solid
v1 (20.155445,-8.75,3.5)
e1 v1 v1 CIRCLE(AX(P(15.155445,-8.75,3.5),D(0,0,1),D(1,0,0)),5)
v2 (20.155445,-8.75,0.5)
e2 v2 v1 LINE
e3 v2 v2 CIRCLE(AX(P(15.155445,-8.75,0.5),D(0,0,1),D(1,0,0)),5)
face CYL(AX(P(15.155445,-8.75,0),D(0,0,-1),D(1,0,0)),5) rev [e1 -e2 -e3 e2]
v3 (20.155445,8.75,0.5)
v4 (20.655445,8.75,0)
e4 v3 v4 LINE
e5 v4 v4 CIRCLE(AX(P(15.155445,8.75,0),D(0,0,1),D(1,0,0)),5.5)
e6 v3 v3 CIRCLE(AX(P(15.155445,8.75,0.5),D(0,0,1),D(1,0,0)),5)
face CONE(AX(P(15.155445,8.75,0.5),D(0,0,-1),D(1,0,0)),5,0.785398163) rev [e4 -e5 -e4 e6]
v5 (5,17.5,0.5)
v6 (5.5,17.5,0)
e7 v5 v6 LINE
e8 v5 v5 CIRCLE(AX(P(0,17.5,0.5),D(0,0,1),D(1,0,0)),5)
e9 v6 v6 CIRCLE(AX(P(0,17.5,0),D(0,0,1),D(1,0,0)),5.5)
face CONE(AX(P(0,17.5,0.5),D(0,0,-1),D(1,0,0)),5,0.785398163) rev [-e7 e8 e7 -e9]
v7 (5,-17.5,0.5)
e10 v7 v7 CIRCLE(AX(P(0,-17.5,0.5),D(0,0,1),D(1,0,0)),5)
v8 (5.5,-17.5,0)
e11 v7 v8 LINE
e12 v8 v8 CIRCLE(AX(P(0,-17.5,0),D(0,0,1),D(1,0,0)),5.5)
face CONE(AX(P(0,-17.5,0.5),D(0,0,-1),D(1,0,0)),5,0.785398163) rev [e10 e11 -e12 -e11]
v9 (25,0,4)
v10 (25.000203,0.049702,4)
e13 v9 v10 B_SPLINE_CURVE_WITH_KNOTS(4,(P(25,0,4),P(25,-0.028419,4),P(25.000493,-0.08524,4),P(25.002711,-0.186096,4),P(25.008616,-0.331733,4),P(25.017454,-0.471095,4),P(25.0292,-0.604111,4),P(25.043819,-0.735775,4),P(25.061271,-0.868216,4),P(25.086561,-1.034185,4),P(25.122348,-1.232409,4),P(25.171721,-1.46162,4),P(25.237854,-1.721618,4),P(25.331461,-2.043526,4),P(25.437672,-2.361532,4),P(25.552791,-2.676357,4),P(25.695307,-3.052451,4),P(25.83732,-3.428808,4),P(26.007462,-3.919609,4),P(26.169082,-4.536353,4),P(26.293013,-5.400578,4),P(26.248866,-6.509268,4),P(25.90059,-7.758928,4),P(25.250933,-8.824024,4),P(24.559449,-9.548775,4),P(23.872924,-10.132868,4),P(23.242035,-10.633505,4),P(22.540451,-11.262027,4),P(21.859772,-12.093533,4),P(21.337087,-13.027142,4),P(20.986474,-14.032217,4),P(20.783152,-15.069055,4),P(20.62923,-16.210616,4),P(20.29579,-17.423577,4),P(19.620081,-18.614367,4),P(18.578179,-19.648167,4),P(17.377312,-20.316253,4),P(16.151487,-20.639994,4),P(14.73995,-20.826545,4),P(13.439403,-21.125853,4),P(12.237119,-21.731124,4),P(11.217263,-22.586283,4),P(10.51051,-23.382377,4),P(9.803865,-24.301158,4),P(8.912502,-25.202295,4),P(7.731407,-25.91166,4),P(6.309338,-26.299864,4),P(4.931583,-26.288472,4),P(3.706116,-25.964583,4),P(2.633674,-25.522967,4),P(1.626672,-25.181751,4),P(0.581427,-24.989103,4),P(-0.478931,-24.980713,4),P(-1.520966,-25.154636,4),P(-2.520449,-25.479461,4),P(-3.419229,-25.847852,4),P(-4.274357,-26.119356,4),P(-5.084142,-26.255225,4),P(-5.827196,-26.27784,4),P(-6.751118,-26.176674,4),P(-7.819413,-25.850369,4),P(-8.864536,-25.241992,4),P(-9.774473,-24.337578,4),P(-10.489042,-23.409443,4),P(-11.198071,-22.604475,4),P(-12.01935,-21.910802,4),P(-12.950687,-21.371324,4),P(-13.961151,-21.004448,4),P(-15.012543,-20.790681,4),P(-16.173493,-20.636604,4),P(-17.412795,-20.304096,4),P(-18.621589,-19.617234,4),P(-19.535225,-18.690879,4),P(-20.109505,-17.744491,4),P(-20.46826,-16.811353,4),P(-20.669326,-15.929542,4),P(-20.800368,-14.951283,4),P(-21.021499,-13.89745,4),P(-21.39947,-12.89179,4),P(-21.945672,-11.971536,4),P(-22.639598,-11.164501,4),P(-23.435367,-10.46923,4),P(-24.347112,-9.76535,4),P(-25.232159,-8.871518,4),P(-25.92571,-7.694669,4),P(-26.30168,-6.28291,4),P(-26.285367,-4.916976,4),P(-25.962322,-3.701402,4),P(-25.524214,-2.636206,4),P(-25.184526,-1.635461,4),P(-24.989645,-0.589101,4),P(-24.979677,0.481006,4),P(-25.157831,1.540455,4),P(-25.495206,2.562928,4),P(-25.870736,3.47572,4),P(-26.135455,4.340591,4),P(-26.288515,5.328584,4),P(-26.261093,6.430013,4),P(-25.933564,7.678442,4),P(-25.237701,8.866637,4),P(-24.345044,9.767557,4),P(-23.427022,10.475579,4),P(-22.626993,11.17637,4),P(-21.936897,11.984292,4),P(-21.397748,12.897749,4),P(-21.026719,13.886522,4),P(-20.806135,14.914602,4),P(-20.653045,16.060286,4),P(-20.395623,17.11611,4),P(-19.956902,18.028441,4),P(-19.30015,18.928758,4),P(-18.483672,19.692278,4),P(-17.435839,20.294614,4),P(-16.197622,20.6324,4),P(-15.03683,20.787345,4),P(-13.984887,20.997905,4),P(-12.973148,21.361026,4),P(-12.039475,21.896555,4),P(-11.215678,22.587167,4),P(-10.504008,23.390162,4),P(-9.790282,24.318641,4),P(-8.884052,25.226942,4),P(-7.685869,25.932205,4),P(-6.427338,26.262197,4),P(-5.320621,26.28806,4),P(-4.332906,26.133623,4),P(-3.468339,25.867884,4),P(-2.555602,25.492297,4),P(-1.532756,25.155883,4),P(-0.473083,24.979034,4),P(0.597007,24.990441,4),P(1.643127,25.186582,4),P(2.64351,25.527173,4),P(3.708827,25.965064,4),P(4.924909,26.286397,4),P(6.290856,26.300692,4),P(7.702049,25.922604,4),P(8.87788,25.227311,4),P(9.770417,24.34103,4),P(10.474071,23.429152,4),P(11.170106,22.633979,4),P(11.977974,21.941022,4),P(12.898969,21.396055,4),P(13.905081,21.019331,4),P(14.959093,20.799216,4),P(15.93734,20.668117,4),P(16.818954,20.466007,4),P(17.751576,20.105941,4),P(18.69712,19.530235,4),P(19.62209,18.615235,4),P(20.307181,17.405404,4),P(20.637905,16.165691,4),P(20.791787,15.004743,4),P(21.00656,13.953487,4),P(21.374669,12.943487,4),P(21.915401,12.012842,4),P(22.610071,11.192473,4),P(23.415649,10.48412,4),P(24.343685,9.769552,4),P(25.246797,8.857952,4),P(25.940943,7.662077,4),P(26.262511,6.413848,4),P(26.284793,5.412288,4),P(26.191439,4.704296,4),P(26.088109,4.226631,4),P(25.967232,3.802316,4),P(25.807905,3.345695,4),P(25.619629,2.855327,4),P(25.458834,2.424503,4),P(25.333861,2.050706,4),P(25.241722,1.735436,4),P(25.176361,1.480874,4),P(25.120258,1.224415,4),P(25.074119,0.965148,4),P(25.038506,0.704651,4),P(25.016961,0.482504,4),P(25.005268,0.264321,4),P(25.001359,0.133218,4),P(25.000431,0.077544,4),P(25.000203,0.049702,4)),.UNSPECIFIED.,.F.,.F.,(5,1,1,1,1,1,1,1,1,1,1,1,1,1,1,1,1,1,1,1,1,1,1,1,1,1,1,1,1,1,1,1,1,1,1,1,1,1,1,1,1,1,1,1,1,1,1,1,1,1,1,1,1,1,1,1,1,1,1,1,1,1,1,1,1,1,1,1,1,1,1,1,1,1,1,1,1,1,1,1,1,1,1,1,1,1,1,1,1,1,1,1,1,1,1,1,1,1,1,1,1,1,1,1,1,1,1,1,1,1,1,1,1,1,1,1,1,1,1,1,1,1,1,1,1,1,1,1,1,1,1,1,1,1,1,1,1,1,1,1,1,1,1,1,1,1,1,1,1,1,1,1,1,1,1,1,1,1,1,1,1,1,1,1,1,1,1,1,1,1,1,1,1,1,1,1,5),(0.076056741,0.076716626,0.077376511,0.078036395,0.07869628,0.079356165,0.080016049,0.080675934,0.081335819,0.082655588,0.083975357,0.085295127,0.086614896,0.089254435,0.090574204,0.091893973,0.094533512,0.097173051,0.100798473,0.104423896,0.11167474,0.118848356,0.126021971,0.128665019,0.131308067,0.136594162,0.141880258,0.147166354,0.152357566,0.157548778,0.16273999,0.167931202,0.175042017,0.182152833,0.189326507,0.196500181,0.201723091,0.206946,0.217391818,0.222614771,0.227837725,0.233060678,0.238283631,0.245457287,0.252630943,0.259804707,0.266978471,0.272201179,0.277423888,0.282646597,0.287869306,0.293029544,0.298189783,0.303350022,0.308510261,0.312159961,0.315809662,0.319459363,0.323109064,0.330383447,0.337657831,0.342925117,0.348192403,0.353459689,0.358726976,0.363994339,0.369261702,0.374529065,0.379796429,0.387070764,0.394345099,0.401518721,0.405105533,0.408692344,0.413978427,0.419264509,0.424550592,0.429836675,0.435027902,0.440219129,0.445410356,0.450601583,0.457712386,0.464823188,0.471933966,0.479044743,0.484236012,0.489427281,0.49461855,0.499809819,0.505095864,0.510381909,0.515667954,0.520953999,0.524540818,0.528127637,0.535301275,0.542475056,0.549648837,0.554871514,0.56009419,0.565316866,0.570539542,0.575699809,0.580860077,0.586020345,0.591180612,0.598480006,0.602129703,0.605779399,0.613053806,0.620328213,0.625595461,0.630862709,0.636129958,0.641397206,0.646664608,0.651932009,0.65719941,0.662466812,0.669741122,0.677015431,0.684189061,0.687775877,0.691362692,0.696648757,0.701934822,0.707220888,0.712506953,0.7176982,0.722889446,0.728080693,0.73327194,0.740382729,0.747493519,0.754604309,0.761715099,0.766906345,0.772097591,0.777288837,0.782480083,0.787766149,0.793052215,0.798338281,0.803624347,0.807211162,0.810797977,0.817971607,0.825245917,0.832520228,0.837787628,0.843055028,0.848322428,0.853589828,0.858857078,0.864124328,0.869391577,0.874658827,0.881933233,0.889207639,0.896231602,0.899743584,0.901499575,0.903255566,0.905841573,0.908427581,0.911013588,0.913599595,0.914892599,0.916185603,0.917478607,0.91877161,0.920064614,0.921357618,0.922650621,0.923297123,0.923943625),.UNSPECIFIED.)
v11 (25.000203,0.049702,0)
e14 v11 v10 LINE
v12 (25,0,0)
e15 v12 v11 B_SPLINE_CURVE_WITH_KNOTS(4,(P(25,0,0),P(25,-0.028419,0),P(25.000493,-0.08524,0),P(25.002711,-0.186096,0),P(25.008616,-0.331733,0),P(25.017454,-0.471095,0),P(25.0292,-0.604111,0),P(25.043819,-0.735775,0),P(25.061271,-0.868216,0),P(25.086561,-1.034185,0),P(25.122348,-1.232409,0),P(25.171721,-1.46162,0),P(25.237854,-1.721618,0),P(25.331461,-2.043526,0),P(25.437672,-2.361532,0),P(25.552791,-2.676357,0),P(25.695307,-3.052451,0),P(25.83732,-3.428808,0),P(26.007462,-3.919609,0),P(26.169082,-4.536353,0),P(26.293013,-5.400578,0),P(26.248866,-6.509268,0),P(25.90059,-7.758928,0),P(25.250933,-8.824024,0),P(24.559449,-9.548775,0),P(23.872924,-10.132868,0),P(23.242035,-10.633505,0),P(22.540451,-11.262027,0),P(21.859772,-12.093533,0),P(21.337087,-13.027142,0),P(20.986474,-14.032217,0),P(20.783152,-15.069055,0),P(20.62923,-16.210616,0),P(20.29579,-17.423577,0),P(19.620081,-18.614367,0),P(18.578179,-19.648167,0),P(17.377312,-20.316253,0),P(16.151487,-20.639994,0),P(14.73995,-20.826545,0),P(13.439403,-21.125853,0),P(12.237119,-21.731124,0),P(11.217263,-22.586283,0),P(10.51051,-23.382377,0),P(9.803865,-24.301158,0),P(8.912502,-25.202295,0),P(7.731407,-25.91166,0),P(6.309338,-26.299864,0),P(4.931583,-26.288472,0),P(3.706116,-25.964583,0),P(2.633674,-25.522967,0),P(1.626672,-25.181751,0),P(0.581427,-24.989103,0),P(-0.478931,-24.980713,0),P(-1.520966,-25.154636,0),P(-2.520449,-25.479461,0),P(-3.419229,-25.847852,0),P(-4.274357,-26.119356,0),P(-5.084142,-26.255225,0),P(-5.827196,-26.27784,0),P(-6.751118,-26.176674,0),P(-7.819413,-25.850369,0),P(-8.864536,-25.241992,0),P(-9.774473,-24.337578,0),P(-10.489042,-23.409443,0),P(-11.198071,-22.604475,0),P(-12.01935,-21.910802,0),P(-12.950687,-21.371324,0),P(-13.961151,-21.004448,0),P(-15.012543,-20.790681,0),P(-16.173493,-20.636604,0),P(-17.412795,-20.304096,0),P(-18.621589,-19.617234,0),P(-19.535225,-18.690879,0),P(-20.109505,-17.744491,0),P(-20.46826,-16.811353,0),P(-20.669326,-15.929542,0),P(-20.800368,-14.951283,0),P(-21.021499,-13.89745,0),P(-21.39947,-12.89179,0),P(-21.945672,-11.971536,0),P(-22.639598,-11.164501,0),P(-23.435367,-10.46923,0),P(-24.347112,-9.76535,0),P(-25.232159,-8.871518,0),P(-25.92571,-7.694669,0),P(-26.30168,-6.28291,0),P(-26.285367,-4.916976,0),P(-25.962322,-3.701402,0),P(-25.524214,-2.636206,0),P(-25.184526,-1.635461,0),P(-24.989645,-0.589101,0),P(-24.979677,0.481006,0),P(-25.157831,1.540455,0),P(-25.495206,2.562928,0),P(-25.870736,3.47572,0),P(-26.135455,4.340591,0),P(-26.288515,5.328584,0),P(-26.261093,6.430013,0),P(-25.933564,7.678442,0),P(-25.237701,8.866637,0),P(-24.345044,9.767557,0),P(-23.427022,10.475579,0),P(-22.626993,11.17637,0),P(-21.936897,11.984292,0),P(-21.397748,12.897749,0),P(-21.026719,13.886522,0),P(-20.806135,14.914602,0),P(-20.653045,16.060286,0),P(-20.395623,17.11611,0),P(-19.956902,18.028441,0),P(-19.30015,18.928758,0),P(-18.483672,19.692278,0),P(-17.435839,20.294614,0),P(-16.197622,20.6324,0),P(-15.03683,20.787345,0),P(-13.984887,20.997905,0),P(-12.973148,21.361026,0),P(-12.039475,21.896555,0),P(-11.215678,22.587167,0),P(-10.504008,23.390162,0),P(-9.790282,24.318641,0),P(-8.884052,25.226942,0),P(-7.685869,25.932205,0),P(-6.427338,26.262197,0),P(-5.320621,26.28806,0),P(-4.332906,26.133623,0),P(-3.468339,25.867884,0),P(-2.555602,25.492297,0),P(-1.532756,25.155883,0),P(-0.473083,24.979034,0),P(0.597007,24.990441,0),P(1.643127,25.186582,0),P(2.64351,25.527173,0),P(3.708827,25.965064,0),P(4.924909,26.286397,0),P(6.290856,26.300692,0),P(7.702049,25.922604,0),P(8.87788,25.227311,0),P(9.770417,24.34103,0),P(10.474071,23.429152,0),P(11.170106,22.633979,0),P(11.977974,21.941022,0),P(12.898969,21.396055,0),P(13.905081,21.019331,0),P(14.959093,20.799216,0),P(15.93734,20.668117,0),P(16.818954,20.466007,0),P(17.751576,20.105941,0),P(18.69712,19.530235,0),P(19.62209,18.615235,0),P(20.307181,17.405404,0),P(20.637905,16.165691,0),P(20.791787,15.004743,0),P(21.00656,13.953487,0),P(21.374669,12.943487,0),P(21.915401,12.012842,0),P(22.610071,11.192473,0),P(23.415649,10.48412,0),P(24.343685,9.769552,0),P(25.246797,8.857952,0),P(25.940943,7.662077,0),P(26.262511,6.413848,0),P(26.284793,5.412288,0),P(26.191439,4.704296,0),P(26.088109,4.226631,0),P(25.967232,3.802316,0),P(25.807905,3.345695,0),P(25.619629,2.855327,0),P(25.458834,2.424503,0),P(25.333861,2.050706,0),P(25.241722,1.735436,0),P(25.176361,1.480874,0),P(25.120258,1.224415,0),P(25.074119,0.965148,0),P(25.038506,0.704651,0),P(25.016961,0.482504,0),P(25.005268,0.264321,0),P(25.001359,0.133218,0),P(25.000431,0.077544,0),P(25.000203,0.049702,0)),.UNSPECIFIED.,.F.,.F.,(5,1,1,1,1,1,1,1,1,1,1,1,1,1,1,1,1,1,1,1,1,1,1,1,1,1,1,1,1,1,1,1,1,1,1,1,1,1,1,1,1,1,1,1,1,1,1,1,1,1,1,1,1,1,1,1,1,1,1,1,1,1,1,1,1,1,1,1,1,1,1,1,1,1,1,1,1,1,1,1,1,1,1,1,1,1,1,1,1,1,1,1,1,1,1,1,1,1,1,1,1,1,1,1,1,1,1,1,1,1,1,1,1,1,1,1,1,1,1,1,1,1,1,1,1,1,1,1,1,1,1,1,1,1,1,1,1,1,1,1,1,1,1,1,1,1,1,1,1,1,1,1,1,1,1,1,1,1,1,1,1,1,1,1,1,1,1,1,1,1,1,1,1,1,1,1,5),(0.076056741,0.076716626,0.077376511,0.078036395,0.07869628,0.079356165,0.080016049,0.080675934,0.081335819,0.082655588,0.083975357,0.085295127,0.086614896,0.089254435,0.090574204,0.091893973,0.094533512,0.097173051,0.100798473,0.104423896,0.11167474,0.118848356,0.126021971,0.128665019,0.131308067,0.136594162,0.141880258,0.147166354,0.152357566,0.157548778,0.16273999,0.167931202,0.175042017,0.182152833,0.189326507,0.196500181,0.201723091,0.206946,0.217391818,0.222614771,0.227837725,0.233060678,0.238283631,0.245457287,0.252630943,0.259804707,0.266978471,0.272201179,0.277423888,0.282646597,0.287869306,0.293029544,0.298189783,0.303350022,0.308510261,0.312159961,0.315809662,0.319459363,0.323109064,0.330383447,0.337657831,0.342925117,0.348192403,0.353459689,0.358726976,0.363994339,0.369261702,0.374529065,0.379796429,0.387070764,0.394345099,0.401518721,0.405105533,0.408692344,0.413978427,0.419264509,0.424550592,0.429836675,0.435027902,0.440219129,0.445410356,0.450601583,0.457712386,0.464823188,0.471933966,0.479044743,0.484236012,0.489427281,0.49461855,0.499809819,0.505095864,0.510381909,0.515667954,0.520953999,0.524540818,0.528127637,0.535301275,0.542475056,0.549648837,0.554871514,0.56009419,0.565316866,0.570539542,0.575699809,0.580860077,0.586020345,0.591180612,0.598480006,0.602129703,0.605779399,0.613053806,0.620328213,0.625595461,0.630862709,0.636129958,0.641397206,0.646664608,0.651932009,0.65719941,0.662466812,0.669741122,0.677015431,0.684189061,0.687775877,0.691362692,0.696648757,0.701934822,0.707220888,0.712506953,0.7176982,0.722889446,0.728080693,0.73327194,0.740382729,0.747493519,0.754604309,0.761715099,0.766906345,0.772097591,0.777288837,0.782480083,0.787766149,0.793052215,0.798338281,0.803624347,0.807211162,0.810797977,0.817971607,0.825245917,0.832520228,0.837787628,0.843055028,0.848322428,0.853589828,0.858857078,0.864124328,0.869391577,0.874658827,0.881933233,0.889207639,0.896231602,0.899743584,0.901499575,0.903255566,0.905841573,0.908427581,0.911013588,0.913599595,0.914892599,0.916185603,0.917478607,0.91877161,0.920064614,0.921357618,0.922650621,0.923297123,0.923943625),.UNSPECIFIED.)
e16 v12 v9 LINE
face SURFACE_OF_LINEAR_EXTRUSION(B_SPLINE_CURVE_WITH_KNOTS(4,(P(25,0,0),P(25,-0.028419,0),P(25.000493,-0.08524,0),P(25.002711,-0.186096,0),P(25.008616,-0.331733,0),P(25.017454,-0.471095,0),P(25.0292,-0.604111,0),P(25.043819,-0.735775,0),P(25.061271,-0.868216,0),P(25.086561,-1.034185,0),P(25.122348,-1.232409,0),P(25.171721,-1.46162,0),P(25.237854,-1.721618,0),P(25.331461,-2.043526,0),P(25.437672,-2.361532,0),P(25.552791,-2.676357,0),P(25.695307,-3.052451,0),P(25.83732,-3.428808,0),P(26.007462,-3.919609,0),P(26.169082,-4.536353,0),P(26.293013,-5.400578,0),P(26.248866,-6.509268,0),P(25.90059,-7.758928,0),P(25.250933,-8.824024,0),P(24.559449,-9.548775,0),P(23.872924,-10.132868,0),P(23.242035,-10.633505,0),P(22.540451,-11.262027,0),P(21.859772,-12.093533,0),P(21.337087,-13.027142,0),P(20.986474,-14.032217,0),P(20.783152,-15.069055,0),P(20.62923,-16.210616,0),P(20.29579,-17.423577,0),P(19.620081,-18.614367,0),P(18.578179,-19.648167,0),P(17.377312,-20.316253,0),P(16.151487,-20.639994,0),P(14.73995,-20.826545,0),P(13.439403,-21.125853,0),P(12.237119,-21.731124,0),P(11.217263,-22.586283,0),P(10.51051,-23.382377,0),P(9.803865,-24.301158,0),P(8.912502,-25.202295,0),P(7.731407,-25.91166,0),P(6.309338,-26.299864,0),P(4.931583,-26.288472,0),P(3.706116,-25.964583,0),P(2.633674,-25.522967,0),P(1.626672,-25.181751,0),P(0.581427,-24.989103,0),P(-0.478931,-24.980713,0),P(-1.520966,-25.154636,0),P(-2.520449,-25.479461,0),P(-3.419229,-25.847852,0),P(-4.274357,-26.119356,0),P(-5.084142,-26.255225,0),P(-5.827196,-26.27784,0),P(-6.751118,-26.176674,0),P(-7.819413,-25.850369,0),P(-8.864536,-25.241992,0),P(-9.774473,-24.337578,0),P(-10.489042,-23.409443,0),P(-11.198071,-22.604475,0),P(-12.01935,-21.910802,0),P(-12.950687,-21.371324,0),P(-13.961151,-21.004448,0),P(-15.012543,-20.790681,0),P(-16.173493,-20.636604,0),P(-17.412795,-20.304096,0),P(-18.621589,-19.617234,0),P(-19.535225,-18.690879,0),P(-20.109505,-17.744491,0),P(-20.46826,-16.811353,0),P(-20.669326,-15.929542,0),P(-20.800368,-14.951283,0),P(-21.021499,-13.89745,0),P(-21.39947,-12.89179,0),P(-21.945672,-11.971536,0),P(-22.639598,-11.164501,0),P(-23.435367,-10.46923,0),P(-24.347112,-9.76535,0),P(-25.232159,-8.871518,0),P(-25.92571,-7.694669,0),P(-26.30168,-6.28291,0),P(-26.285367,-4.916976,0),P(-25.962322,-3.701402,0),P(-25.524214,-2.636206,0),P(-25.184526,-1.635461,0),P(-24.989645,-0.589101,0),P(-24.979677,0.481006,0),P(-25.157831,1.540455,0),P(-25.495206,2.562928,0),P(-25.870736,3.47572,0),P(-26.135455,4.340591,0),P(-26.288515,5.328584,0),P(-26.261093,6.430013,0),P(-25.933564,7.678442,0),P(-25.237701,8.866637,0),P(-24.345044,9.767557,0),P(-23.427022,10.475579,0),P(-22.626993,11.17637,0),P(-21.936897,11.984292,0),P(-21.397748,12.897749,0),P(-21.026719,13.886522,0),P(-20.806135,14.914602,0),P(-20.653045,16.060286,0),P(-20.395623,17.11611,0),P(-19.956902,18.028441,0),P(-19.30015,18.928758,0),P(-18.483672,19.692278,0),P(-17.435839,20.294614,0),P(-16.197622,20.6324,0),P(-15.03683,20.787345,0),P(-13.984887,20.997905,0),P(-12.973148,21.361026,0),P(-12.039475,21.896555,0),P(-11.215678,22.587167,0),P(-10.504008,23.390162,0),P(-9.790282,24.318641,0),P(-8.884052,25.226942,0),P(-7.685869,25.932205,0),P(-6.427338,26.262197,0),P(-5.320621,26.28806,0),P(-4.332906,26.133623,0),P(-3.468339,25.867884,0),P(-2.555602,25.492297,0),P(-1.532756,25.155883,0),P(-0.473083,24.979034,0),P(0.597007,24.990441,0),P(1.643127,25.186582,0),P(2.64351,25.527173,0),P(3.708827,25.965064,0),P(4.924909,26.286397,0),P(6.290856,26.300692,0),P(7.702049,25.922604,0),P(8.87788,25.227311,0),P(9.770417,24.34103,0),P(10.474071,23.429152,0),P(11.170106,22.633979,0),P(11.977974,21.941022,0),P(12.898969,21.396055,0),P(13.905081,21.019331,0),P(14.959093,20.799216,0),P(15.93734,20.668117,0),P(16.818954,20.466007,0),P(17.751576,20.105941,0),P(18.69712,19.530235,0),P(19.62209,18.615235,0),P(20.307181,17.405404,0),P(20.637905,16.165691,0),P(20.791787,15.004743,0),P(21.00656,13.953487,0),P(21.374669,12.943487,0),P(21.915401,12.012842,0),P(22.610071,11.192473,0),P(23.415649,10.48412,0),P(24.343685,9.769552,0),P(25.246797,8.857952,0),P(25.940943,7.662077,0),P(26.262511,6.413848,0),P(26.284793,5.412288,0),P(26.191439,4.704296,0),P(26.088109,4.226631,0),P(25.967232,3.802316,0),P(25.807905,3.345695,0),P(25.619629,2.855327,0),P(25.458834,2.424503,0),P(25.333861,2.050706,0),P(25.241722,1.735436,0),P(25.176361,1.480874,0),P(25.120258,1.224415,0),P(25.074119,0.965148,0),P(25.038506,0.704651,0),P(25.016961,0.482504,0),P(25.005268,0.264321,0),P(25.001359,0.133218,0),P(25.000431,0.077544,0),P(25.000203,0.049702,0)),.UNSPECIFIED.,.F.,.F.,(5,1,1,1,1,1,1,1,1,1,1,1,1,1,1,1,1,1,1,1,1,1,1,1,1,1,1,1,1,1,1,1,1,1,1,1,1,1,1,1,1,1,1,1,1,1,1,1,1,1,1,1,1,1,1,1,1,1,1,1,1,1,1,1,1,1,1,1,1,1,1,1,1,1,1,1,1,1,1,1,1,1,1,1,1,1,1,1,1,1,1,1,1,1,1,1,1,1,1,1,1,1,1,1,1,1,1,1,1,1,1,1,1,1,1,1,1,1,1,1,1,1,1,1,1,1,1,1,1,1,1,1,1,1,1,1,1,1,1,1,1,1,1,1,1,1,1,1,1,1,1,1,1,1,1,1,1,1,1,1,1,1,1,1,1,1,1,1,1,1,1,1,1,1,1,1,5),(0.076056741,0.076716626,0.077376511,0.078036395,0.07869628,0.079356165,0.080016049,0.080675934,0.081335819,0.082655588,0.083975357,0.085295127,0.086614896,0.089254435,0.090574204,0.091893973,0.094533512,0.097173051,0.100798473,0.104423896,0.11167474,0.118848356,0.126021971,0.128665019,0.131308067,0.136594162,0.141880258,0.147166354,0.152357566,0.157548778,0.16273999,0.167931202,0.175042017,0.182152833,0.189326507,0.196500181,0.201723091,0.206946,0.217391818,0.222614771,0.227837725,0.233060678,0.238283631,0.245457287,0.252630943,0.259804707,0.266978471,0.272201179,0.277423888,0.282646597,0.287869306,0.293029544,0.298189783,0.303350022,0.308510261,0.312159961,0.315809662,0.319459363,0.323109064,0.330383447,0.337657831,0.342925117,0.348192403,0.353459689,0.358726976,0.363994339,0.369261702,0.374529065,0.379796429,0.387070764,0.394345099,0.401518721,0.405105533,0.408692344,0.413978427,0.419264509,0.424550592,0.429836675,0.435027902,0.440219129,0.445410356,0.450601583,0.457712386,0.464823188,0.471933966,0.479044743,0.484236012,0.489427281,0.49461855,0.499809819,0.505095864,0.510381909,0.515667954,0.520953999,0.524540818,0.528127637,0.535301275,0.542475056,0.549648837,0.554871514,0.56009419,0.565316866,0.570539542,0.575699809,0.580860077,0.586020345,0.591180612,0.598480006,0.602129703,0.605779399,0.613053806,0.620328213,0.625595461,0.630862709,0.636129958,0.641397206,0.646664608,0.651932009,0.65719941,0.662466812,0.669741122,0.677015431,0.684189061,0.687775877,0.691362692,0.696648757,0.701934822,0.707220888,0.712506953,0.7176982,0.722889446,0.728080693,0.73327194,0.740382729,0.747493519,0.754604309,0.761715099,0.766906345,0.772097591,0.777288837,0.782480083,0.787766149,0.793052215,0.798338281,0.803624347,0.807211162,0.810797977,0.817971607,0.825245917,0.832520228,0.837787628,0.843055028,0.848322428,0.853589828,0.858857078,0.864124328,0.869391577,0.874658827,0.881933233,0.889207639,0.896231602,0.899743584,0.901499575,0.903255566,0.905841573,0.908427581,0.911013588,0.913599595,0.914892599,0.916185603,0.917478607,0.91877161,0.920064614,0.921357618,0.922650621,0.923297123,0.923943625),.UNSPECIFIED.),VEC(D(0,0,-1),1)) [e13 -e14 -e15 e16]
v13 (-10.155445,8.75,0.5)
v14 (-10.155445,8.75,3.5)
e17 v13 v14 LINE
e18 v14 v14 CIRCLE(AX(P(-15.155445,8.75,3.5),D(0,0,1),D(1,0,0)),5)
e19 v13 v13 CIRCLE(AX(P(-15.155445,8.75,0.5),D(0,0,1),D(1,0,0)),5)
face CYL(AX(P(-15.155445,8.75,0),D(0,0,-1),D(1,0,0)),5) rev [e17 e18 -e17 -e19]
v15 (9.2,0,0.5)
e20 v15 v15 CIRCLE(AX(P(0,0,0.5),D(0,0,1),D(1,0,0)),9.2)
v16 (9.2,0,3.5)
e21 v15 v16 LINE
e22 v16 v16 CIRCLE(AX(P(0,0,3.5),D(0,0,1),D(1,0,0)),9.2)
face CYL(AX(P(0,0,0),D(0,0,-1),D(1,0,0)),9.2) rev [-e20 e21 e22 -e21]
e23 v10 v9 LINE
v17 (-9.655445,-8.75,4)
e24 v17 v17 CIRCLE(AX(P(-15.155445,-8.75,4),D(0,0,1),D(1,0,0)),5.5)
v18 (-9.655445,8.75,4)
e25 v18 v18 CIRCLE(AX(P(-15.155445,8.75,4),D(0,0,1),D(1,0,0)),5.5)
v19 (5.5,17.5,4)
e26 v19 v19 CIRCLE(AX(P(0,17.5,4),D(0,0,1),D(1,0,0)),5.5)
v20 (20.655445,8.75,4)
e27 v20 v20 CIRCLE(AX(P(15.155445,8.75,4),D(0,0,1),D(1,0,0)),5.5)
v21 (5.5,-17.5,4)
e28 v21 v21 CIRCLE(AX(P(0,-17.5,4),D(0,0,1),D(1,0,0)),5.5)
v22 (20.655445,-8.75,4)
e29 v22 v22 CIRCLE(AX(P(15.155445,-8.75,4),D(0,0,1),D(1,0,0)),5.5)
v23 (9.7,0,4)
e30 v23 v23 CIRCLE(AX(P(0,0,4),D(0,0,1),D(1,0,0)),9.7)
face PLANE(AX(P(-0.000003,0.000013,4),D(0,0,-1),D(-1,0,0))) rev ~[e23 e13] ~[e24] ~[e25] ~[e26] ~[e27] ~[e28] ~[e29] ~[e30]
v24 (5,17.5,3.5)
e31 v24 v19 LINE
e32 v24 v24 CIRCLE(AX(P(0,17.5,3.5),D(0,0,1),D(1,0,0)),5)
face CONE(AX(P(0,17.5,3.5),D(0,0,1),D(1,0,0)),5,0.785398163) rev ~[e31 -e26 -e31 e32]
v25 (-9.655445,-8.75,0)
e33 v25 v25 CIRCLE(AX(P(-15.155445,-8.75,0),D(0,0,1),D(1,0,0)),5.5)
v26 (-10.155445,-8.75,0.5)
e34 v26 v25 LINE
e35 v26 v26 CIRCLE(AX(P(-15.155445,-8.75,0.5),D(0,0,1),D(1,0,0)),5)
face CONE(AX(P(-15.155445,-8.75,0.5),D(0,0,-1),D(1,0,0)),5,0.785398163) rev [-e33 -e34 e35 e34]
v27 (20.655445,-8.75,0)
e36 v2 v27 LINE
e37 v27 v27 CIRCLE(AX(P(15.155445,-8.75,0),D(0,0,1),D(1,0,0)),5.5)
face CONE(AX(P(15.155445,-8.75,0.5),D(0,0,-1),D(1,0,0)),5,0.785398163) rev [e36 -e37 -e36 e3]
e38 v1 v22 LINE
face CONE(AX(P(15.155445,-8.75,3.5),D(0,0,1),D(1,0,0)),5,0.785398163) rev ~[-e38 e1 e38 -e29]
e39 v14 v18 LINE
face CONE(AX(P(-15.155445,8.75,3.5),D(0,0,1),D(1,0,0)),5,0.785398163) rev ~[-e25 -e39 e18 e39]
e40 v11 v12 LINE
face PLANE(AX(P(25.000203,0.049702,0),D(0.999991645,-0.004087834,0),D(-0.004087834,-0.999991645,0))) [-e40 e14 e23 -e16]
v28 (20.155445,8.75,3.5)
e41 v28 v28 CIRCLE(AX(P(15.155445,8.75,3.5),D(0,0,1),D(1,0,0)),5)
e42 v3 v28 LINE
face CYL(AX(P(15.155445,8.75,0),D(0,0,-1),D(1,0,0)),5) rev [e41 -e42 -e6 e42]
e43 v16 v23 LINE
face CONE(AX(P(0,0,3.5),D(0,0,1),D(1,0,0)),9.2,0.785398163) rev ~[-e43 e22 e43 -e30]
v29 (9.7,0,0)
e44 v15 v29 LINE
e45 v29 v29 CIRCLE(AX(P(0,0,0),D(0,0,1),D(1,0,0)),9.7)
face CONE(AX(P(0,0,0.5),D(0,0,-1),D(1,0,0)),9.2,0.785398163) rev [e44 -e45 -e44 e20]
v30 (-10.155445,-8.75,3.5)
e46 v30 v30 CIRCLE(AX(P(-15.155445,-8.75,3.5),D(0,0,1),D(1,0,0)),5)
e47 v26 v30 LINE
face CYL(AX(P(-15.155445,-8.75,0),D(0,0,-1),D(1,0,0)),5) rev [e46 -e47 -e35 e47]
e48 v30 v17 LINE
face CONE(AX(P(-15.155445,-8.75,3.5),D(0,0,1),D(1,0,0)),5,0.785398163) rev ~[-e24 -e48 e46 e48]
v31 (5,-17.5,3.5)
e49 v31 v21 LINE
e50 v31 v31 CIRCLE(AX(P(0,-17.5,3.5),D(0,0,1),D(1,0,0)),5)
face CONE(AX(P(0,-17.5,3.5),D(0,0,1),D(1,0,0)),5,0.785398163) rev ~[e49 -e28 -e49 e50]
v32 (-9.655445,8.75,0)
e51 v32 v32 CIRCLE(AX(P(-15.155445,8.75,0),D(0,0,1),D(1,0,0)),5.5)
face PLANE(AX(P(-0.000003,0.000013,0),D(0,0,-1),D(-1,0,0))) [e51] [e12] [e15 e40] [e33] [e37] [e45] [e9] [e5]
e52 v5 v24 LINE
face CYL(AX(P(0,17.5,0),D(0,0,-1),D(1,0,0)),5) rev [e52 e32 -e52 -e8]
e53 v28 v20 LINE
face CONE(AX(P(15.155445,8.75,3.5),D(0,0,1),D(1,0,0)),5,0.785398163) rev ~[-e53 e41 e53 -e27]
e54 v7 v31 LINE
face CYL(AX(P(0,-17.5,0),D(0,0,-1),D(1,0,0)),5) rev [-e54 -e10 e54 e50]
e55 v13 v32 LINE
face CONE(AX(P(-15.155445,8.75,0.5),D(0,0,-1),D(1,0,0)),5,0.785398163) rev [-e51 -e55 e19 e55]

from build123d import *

# Parameters (mm, degrees)
SKETCH3_R           = 9.2
SKETCH3_R_2         = 5
BOSS_EXTRUDE2_DEPTH = 4
CHAMFER1_SIZE       = 0.5


with BuildPart() as part:
    # Sketch3 → Boss-Extrude2 (new body)
    with BuildSketch(Plane.XY):
        with BuildLine():
            add(Edge.make_bspline(
                [(25, 0), (25, -0.028419379), (25.000492821, -0.085240091), (25.002710517, -0.186096381), (25.008616202, -0.331732724), (25.017454216, -0.471095426), (25.029199756, -0.604110594), (25.043819456, -0.735775062), (25.0612711, -0.868216065), (25.086561311, -1.034185241), (25.122348392, -1.232409452), (25.171720804, -1.461619521), (25.23785416, -1.72161835), (25.33146082, -2.043525868), (25.437671669, -2.361532194), (25.552791346, -2.676356937), (25.69530689, -3.052450734), (25.837320412, -3.428807717), (26.007461604, -3.919608843), (26.169082038, -4.536352918), (26.29301302, -5.400577617), (26.248865742, -6.509268079), (25.900590468, -7.758927573), (25.250933039, -8.824024045), (24.559448754, -9.548775191), (23.872924134, -10.132867754), (23.242034799, -10.633504856), (22.540451444, -11.262027255), (21.859772382, -12.093532725), (21.337087227, -13.027141562), (20.986474338, -14.032216693), (20.783152218, -15.069054613), (20.629229677, -16.210615672), (20.295790024, -17.423577203), (19.620081418, -18.614367157), (18.57817853, -19.648167397), (17.377311503, -20.316253266), (16.151486918, -20.639994045), (14.739949908, -20.826544524), (13.439402762, -21.1258531), (12.23711891, -21.731124361), (11.217263285, -22.586282659), (10.510510486, -23.382376891), (9.803864636, -24.301158332), (8.912502074, -25.202295013), (7.731407454, -25.911659846), (6.309337856, -26.299864083), (4.931582798, -26.288472232), (3.706115601, -25.964583322), (2.633674004, -25.522967435), (1.62667227, -25.181750578), (0.581426656, -24.989102643), (-0.478930933, -24.980713481), (-1.520966388, -25.154635937), (-2.520449471, -25.479461333), (-3.419229104, -25.84785235), (-4.274357012, -26.11935553), (-5.084141891, -26.255225085), (-5.827195666, -26.277840049), (-6.751118437, -26.176673588), (-7.819413481, -25.850368791), (-8.864535557, -25.241992085), (-9.774472842, -24.337578456), (-10.489042176, -23.409443312), (-11.198070814, -22.604475083), (-12.019349647, -21.910802096), (-12.950687048, -21.371323607), (-13.961150534, -21.004447957), (-15.012542859, -20.790681073), (-16.17349347, -20.636604415), (-17.412795128, -20.30409628), (-18.621589199, -19.617234196), (-19.535225069, -18.69087907), (-20.109505434, -17.744490957), (-20.468260184, -16.811352879), (-20.669325741, -15.929542243), (-20.800368009, -14.951283195), (-21.021499046, -13.897450049), (-21.399469544, -12.891789727), (-21.945671579, -11.971536034), (-22.639598338, -11.164500934), (-23.435367487, -10.469229858), (-24.347111984, -9.765350187), (-25.232158972, -8.871517572), (-25.925709908, -7.694669196), (-26.301679816, -6.282910402), (-26.285367064, -4.916976266), (-25.96232166, -3.701401982), (-25.524214021, -2.636206013), (-25.184526072, -1.63546138), (-24.98964456, -0.589100982), (-24.979676648, 0.481005828), (-25.157831343, 1.540454587), (-25.495205931, 2.562927815), (-25.870736407, 3.4757204), (-26.135455064, 4.34059116), (-26.288515222, 5.328583568), (-26.261093111, 6.43001327), (-25.933564455, 7.678441647), (-25.237701394, 8.866637346), (-24.34504384, 9.767557339), (-23.427022399, 10.47557852), (-22.62699323, 11.1763696), (-21.936896568, 11.984292454), (-21.397747575, 12.897748952), (-21.026718925, 13.886522177), (-20.806135146, 14.914602211), (-20.653045268, 16.060286336), (-20.395622874, 17.11611043), (-19.95690194, 18.028441349), (-19.300149626, 18.928757994), (-18.483671803, 19.692277913), (-17.435839429, 20.294614033), (-16.197622229, 20.632400397), (-15.036829757, 20.787344769), (-13.984887122, 20.997904882), (-12.973147938, 21.361026229), (-12.039474616, 21.896555136), (-11.215678135, 22.58716662), (-10.504008287, 23.390162439), (-9.790282182, 24.318640694), (-8.884052218, 25.226941722), (-7.685868846, 25.932204762), (-6.427337904, 26.262197332), (-5.32062142, 26.288060185), (-4.332905845, 26.133623194), (-3.468339345, 25.867884001), (-2.55560208, 25.492296977), (-1.532755887, 25.155882506), (-0.473083435, 24.979033961), (0.597006536, 24.990441303), (1.643127458, 25.186582226), (2.643510183, 25.527172752), (3.708827205, 25.965063812), (4.924909383, 26.286396603), (6.29085556, 26.300692327), (7.702048601, 25.922603812), (8.877880267, 25.227310889), (9.770417048, 24.341030317), (10.474070774, 23.429151565), (11.170105737, 22.633979321), (11.977973527, 21.941022037), (12.898969216, 21.396054985), (13.905080963, 21.019330701), (14.959093015, 20.79921578), (15.93734026, 20.668117182), (16.818953838, 20.466007301), (17.751576334, 20.105941467), (18.697120313, 19.53023506), (19.622089623, 18.615234931), (20.307180817, 17.405403853), (20.637904711, 16.165690953), (20.791787115, 15.004742729), (21.00656033, 13.953487), (21.374668771, 12.943487437), (21.915401419, 12.012841988), (22.610070929, 11.192473379), (23.415648604, 10.48411951), (24.343684699, 9.769551905), (25.246796647, 8.857951736), (25.940942688, 7.662077141), (26.262511444, 6.413848041), (26.28479299, 5.412288327), (26.191439435, 4.704296235), (26.088108997, 4.226630913), (25.967232391, 3.802316147), (25.80790495, 3.345695262), (25.619629464, 2.855327013), (25.458833672, 2.424502992), (25.333860765, 2.050706314), (25.241721849, 1.735435761), (25.176361339, 1.480873774), (25.120257899, 1.224415288), (25.074119122, 0.965148365), (25.038505918, 0.70465122), (25.016960864, 0.482504301), (25.005267885, 0.264321243), (25.00135895, 0.133217809), (25.000430803, 0.077544036), (25.000203175, 0.049701947)],
                knots=[0.076056741, 0.076056741, 0.076056741, 0.076056741, 0.076056741, 0.076716626, 0.077376511, 0.078036395, 0.07869628, 0.079356165, 0.080016049, 0.080675934, 0.081335819, 0.082655588, 0.083975357, 0.085295127, 0.086614896, 0.089254435, 0.090574204, 0.091893973, 0.094533512, 0.097173051, 0.100798473, 0.104423896, 0.11167474, 0.118848356, 0.126021971, 0.128665019, 0.131308067, 0.136594162, 0.141880258, 0.147166354, 0.152357566, 0.157548778, 0.16273999, 0.167931202, 0.175042017, 0.182152833, 0.189326507, 0.196500181, 0.201723091, 0.206946, 0.217391818, 0.222614771, 0.227837725, 0.233060678, 0.238283631, 0.245457287, 0.252630943, 0.259804707, 0.266978471, 0.272201179, 0.277423888, 0.282646597, 0.287869306, 0.293029544, 0.298189783, 0.303350022, 0.308510261, 0.312159961, 0.315809662, 0.319459363, 0.323109064, 0.330383447, 0.337657831, 0.342925117, 0.348192403, 0.353459689, 0.358726976, 0.363994339, 0.369261702, 0.374529065, 0.379796429, 0.387070764, 0.394345099, 0.401518721, 0.405105533, 0.408692344, 0.413978427, 0.419264509, 0.424550592, 0.429836675, 0.435027902, 0.440219129, 0.445410356, 0.450601583, 0.457712386, 0.464823188, 0.471933966, 0.479044743, 0.484236012, 0.489427281, 0.49461855, 0.499809819, 0.505095864, 0.510381909, 0.515667954, 0.520953999, 0.524540818, 0.528127637, 0.535301275, 0.542475056, 0.549648837, 0.554871514, 0.56009419, 0.565316866, 0.570539542, 0.575699809, 0.580860077, 0.586020345, 0.591180612, 0.598480006, 0.602129703, 0.605779399, 0.613053806, 0.620328213, 0.625595461, 0.630862709, 0.636129958, 0.641397206, 0.646664608, 0.651932009, 0.65719941, 0.662466812, 0.669741122, 0.677015431, 0.684189061, 0.687775877, 0.691362692, 0.696648757, 0.701934822, 0.707220888, 0.712506953, 0.7176982, 0.722889446, 0.728080693, 0.73327194, 0.740382729, 0.747493519, 0.754604309, 0.761715099, 0.766906345, 0.772097591, 0.777288837, 0.782480083, 0.787766149, 0.793052215, 0.798338281, 0.803624347, 0.807211162, 0.810797977, 0.817971607, 0.825245917, 0.832520228, 0.837787628, 0.843055028, 0.848322428, 0.853589828, 0.858857078, 0.864124328, 0.869391577, 0.874658827, 0.881933233, 0.889207639, 0.896231602, 0.899743584, 0.901499575, 0.903255566, 0.905841573, 0.908427581, 0.911013588, 0.913599595, 0.914892599, 0.916185603, 0.917478607, 0.91877161, 0.920064614, 0.921357618, 0.922650621, 0.923297123, 0.923943625, 0.923943625, 0.923943625, 0.923943625, 0.923943625], degree=4))
            Line((25.000203175, 0.049701947), (25, 0))
        make_face()
        Circle(SKETCH3_R, mode=Mode.SUBTRACT)
        with Locations((0, 17.5)):
            Circle(SKETCH3_R_2, mode=Mode.SUBTRACT)
        with Locations((15.155444566, 8.75)):
            Circle(SKETCH3_R_2, mode=Mode.SUBTRACT)
        with Locations((15.155444566, -8.75)):
            Circle(SKETCH3_R_2, mode=Mode.SUBTRACT)
        with Locations((0, -17.5)):
            Circle(SKETCH3_R_2, mode=Mode.SUBTRACT)
        with Locations((-15.155444566, -8.75)):
            Circle(SKETCH3_R_2, mode=Mode.SUBTRACT)
        with Locations((-15.155444566, 8.75)):
            Circle(SKETCH3_R_2, mode=Mode.SUBTRACT)
    extrude(amount=BOSS_EXTRUDE2_DEPTH)

    # Chamfer1
    chamfer1_edges = [part.edges().sort_by_distance(p)[0] for p in [
        (-5, 17.5, 0),
        (-5, 17.5, 4),
        (-5, -17.5, 0),
        (-5, -17.5, 4),
        (10.155444566, 8.75, 0),
        (10.155444566, 8.75, 4),
        (10.155444566, -8.75, 0),
        (10.155444566, -8.75, 4),
        (-20.155444566, -8.75, 0),
        (-20.155444566, -8.75, 4),
        (-20.155444566, 8.75, 0),
        (-20.155444566, 8.75, 4),
        (-9.2, 0, 0),
        (-9.2, 0, 4),
    ]]
    chamfer(chamfer1_edges, length=CHAMFER1_SIZE)


solid = part.part
